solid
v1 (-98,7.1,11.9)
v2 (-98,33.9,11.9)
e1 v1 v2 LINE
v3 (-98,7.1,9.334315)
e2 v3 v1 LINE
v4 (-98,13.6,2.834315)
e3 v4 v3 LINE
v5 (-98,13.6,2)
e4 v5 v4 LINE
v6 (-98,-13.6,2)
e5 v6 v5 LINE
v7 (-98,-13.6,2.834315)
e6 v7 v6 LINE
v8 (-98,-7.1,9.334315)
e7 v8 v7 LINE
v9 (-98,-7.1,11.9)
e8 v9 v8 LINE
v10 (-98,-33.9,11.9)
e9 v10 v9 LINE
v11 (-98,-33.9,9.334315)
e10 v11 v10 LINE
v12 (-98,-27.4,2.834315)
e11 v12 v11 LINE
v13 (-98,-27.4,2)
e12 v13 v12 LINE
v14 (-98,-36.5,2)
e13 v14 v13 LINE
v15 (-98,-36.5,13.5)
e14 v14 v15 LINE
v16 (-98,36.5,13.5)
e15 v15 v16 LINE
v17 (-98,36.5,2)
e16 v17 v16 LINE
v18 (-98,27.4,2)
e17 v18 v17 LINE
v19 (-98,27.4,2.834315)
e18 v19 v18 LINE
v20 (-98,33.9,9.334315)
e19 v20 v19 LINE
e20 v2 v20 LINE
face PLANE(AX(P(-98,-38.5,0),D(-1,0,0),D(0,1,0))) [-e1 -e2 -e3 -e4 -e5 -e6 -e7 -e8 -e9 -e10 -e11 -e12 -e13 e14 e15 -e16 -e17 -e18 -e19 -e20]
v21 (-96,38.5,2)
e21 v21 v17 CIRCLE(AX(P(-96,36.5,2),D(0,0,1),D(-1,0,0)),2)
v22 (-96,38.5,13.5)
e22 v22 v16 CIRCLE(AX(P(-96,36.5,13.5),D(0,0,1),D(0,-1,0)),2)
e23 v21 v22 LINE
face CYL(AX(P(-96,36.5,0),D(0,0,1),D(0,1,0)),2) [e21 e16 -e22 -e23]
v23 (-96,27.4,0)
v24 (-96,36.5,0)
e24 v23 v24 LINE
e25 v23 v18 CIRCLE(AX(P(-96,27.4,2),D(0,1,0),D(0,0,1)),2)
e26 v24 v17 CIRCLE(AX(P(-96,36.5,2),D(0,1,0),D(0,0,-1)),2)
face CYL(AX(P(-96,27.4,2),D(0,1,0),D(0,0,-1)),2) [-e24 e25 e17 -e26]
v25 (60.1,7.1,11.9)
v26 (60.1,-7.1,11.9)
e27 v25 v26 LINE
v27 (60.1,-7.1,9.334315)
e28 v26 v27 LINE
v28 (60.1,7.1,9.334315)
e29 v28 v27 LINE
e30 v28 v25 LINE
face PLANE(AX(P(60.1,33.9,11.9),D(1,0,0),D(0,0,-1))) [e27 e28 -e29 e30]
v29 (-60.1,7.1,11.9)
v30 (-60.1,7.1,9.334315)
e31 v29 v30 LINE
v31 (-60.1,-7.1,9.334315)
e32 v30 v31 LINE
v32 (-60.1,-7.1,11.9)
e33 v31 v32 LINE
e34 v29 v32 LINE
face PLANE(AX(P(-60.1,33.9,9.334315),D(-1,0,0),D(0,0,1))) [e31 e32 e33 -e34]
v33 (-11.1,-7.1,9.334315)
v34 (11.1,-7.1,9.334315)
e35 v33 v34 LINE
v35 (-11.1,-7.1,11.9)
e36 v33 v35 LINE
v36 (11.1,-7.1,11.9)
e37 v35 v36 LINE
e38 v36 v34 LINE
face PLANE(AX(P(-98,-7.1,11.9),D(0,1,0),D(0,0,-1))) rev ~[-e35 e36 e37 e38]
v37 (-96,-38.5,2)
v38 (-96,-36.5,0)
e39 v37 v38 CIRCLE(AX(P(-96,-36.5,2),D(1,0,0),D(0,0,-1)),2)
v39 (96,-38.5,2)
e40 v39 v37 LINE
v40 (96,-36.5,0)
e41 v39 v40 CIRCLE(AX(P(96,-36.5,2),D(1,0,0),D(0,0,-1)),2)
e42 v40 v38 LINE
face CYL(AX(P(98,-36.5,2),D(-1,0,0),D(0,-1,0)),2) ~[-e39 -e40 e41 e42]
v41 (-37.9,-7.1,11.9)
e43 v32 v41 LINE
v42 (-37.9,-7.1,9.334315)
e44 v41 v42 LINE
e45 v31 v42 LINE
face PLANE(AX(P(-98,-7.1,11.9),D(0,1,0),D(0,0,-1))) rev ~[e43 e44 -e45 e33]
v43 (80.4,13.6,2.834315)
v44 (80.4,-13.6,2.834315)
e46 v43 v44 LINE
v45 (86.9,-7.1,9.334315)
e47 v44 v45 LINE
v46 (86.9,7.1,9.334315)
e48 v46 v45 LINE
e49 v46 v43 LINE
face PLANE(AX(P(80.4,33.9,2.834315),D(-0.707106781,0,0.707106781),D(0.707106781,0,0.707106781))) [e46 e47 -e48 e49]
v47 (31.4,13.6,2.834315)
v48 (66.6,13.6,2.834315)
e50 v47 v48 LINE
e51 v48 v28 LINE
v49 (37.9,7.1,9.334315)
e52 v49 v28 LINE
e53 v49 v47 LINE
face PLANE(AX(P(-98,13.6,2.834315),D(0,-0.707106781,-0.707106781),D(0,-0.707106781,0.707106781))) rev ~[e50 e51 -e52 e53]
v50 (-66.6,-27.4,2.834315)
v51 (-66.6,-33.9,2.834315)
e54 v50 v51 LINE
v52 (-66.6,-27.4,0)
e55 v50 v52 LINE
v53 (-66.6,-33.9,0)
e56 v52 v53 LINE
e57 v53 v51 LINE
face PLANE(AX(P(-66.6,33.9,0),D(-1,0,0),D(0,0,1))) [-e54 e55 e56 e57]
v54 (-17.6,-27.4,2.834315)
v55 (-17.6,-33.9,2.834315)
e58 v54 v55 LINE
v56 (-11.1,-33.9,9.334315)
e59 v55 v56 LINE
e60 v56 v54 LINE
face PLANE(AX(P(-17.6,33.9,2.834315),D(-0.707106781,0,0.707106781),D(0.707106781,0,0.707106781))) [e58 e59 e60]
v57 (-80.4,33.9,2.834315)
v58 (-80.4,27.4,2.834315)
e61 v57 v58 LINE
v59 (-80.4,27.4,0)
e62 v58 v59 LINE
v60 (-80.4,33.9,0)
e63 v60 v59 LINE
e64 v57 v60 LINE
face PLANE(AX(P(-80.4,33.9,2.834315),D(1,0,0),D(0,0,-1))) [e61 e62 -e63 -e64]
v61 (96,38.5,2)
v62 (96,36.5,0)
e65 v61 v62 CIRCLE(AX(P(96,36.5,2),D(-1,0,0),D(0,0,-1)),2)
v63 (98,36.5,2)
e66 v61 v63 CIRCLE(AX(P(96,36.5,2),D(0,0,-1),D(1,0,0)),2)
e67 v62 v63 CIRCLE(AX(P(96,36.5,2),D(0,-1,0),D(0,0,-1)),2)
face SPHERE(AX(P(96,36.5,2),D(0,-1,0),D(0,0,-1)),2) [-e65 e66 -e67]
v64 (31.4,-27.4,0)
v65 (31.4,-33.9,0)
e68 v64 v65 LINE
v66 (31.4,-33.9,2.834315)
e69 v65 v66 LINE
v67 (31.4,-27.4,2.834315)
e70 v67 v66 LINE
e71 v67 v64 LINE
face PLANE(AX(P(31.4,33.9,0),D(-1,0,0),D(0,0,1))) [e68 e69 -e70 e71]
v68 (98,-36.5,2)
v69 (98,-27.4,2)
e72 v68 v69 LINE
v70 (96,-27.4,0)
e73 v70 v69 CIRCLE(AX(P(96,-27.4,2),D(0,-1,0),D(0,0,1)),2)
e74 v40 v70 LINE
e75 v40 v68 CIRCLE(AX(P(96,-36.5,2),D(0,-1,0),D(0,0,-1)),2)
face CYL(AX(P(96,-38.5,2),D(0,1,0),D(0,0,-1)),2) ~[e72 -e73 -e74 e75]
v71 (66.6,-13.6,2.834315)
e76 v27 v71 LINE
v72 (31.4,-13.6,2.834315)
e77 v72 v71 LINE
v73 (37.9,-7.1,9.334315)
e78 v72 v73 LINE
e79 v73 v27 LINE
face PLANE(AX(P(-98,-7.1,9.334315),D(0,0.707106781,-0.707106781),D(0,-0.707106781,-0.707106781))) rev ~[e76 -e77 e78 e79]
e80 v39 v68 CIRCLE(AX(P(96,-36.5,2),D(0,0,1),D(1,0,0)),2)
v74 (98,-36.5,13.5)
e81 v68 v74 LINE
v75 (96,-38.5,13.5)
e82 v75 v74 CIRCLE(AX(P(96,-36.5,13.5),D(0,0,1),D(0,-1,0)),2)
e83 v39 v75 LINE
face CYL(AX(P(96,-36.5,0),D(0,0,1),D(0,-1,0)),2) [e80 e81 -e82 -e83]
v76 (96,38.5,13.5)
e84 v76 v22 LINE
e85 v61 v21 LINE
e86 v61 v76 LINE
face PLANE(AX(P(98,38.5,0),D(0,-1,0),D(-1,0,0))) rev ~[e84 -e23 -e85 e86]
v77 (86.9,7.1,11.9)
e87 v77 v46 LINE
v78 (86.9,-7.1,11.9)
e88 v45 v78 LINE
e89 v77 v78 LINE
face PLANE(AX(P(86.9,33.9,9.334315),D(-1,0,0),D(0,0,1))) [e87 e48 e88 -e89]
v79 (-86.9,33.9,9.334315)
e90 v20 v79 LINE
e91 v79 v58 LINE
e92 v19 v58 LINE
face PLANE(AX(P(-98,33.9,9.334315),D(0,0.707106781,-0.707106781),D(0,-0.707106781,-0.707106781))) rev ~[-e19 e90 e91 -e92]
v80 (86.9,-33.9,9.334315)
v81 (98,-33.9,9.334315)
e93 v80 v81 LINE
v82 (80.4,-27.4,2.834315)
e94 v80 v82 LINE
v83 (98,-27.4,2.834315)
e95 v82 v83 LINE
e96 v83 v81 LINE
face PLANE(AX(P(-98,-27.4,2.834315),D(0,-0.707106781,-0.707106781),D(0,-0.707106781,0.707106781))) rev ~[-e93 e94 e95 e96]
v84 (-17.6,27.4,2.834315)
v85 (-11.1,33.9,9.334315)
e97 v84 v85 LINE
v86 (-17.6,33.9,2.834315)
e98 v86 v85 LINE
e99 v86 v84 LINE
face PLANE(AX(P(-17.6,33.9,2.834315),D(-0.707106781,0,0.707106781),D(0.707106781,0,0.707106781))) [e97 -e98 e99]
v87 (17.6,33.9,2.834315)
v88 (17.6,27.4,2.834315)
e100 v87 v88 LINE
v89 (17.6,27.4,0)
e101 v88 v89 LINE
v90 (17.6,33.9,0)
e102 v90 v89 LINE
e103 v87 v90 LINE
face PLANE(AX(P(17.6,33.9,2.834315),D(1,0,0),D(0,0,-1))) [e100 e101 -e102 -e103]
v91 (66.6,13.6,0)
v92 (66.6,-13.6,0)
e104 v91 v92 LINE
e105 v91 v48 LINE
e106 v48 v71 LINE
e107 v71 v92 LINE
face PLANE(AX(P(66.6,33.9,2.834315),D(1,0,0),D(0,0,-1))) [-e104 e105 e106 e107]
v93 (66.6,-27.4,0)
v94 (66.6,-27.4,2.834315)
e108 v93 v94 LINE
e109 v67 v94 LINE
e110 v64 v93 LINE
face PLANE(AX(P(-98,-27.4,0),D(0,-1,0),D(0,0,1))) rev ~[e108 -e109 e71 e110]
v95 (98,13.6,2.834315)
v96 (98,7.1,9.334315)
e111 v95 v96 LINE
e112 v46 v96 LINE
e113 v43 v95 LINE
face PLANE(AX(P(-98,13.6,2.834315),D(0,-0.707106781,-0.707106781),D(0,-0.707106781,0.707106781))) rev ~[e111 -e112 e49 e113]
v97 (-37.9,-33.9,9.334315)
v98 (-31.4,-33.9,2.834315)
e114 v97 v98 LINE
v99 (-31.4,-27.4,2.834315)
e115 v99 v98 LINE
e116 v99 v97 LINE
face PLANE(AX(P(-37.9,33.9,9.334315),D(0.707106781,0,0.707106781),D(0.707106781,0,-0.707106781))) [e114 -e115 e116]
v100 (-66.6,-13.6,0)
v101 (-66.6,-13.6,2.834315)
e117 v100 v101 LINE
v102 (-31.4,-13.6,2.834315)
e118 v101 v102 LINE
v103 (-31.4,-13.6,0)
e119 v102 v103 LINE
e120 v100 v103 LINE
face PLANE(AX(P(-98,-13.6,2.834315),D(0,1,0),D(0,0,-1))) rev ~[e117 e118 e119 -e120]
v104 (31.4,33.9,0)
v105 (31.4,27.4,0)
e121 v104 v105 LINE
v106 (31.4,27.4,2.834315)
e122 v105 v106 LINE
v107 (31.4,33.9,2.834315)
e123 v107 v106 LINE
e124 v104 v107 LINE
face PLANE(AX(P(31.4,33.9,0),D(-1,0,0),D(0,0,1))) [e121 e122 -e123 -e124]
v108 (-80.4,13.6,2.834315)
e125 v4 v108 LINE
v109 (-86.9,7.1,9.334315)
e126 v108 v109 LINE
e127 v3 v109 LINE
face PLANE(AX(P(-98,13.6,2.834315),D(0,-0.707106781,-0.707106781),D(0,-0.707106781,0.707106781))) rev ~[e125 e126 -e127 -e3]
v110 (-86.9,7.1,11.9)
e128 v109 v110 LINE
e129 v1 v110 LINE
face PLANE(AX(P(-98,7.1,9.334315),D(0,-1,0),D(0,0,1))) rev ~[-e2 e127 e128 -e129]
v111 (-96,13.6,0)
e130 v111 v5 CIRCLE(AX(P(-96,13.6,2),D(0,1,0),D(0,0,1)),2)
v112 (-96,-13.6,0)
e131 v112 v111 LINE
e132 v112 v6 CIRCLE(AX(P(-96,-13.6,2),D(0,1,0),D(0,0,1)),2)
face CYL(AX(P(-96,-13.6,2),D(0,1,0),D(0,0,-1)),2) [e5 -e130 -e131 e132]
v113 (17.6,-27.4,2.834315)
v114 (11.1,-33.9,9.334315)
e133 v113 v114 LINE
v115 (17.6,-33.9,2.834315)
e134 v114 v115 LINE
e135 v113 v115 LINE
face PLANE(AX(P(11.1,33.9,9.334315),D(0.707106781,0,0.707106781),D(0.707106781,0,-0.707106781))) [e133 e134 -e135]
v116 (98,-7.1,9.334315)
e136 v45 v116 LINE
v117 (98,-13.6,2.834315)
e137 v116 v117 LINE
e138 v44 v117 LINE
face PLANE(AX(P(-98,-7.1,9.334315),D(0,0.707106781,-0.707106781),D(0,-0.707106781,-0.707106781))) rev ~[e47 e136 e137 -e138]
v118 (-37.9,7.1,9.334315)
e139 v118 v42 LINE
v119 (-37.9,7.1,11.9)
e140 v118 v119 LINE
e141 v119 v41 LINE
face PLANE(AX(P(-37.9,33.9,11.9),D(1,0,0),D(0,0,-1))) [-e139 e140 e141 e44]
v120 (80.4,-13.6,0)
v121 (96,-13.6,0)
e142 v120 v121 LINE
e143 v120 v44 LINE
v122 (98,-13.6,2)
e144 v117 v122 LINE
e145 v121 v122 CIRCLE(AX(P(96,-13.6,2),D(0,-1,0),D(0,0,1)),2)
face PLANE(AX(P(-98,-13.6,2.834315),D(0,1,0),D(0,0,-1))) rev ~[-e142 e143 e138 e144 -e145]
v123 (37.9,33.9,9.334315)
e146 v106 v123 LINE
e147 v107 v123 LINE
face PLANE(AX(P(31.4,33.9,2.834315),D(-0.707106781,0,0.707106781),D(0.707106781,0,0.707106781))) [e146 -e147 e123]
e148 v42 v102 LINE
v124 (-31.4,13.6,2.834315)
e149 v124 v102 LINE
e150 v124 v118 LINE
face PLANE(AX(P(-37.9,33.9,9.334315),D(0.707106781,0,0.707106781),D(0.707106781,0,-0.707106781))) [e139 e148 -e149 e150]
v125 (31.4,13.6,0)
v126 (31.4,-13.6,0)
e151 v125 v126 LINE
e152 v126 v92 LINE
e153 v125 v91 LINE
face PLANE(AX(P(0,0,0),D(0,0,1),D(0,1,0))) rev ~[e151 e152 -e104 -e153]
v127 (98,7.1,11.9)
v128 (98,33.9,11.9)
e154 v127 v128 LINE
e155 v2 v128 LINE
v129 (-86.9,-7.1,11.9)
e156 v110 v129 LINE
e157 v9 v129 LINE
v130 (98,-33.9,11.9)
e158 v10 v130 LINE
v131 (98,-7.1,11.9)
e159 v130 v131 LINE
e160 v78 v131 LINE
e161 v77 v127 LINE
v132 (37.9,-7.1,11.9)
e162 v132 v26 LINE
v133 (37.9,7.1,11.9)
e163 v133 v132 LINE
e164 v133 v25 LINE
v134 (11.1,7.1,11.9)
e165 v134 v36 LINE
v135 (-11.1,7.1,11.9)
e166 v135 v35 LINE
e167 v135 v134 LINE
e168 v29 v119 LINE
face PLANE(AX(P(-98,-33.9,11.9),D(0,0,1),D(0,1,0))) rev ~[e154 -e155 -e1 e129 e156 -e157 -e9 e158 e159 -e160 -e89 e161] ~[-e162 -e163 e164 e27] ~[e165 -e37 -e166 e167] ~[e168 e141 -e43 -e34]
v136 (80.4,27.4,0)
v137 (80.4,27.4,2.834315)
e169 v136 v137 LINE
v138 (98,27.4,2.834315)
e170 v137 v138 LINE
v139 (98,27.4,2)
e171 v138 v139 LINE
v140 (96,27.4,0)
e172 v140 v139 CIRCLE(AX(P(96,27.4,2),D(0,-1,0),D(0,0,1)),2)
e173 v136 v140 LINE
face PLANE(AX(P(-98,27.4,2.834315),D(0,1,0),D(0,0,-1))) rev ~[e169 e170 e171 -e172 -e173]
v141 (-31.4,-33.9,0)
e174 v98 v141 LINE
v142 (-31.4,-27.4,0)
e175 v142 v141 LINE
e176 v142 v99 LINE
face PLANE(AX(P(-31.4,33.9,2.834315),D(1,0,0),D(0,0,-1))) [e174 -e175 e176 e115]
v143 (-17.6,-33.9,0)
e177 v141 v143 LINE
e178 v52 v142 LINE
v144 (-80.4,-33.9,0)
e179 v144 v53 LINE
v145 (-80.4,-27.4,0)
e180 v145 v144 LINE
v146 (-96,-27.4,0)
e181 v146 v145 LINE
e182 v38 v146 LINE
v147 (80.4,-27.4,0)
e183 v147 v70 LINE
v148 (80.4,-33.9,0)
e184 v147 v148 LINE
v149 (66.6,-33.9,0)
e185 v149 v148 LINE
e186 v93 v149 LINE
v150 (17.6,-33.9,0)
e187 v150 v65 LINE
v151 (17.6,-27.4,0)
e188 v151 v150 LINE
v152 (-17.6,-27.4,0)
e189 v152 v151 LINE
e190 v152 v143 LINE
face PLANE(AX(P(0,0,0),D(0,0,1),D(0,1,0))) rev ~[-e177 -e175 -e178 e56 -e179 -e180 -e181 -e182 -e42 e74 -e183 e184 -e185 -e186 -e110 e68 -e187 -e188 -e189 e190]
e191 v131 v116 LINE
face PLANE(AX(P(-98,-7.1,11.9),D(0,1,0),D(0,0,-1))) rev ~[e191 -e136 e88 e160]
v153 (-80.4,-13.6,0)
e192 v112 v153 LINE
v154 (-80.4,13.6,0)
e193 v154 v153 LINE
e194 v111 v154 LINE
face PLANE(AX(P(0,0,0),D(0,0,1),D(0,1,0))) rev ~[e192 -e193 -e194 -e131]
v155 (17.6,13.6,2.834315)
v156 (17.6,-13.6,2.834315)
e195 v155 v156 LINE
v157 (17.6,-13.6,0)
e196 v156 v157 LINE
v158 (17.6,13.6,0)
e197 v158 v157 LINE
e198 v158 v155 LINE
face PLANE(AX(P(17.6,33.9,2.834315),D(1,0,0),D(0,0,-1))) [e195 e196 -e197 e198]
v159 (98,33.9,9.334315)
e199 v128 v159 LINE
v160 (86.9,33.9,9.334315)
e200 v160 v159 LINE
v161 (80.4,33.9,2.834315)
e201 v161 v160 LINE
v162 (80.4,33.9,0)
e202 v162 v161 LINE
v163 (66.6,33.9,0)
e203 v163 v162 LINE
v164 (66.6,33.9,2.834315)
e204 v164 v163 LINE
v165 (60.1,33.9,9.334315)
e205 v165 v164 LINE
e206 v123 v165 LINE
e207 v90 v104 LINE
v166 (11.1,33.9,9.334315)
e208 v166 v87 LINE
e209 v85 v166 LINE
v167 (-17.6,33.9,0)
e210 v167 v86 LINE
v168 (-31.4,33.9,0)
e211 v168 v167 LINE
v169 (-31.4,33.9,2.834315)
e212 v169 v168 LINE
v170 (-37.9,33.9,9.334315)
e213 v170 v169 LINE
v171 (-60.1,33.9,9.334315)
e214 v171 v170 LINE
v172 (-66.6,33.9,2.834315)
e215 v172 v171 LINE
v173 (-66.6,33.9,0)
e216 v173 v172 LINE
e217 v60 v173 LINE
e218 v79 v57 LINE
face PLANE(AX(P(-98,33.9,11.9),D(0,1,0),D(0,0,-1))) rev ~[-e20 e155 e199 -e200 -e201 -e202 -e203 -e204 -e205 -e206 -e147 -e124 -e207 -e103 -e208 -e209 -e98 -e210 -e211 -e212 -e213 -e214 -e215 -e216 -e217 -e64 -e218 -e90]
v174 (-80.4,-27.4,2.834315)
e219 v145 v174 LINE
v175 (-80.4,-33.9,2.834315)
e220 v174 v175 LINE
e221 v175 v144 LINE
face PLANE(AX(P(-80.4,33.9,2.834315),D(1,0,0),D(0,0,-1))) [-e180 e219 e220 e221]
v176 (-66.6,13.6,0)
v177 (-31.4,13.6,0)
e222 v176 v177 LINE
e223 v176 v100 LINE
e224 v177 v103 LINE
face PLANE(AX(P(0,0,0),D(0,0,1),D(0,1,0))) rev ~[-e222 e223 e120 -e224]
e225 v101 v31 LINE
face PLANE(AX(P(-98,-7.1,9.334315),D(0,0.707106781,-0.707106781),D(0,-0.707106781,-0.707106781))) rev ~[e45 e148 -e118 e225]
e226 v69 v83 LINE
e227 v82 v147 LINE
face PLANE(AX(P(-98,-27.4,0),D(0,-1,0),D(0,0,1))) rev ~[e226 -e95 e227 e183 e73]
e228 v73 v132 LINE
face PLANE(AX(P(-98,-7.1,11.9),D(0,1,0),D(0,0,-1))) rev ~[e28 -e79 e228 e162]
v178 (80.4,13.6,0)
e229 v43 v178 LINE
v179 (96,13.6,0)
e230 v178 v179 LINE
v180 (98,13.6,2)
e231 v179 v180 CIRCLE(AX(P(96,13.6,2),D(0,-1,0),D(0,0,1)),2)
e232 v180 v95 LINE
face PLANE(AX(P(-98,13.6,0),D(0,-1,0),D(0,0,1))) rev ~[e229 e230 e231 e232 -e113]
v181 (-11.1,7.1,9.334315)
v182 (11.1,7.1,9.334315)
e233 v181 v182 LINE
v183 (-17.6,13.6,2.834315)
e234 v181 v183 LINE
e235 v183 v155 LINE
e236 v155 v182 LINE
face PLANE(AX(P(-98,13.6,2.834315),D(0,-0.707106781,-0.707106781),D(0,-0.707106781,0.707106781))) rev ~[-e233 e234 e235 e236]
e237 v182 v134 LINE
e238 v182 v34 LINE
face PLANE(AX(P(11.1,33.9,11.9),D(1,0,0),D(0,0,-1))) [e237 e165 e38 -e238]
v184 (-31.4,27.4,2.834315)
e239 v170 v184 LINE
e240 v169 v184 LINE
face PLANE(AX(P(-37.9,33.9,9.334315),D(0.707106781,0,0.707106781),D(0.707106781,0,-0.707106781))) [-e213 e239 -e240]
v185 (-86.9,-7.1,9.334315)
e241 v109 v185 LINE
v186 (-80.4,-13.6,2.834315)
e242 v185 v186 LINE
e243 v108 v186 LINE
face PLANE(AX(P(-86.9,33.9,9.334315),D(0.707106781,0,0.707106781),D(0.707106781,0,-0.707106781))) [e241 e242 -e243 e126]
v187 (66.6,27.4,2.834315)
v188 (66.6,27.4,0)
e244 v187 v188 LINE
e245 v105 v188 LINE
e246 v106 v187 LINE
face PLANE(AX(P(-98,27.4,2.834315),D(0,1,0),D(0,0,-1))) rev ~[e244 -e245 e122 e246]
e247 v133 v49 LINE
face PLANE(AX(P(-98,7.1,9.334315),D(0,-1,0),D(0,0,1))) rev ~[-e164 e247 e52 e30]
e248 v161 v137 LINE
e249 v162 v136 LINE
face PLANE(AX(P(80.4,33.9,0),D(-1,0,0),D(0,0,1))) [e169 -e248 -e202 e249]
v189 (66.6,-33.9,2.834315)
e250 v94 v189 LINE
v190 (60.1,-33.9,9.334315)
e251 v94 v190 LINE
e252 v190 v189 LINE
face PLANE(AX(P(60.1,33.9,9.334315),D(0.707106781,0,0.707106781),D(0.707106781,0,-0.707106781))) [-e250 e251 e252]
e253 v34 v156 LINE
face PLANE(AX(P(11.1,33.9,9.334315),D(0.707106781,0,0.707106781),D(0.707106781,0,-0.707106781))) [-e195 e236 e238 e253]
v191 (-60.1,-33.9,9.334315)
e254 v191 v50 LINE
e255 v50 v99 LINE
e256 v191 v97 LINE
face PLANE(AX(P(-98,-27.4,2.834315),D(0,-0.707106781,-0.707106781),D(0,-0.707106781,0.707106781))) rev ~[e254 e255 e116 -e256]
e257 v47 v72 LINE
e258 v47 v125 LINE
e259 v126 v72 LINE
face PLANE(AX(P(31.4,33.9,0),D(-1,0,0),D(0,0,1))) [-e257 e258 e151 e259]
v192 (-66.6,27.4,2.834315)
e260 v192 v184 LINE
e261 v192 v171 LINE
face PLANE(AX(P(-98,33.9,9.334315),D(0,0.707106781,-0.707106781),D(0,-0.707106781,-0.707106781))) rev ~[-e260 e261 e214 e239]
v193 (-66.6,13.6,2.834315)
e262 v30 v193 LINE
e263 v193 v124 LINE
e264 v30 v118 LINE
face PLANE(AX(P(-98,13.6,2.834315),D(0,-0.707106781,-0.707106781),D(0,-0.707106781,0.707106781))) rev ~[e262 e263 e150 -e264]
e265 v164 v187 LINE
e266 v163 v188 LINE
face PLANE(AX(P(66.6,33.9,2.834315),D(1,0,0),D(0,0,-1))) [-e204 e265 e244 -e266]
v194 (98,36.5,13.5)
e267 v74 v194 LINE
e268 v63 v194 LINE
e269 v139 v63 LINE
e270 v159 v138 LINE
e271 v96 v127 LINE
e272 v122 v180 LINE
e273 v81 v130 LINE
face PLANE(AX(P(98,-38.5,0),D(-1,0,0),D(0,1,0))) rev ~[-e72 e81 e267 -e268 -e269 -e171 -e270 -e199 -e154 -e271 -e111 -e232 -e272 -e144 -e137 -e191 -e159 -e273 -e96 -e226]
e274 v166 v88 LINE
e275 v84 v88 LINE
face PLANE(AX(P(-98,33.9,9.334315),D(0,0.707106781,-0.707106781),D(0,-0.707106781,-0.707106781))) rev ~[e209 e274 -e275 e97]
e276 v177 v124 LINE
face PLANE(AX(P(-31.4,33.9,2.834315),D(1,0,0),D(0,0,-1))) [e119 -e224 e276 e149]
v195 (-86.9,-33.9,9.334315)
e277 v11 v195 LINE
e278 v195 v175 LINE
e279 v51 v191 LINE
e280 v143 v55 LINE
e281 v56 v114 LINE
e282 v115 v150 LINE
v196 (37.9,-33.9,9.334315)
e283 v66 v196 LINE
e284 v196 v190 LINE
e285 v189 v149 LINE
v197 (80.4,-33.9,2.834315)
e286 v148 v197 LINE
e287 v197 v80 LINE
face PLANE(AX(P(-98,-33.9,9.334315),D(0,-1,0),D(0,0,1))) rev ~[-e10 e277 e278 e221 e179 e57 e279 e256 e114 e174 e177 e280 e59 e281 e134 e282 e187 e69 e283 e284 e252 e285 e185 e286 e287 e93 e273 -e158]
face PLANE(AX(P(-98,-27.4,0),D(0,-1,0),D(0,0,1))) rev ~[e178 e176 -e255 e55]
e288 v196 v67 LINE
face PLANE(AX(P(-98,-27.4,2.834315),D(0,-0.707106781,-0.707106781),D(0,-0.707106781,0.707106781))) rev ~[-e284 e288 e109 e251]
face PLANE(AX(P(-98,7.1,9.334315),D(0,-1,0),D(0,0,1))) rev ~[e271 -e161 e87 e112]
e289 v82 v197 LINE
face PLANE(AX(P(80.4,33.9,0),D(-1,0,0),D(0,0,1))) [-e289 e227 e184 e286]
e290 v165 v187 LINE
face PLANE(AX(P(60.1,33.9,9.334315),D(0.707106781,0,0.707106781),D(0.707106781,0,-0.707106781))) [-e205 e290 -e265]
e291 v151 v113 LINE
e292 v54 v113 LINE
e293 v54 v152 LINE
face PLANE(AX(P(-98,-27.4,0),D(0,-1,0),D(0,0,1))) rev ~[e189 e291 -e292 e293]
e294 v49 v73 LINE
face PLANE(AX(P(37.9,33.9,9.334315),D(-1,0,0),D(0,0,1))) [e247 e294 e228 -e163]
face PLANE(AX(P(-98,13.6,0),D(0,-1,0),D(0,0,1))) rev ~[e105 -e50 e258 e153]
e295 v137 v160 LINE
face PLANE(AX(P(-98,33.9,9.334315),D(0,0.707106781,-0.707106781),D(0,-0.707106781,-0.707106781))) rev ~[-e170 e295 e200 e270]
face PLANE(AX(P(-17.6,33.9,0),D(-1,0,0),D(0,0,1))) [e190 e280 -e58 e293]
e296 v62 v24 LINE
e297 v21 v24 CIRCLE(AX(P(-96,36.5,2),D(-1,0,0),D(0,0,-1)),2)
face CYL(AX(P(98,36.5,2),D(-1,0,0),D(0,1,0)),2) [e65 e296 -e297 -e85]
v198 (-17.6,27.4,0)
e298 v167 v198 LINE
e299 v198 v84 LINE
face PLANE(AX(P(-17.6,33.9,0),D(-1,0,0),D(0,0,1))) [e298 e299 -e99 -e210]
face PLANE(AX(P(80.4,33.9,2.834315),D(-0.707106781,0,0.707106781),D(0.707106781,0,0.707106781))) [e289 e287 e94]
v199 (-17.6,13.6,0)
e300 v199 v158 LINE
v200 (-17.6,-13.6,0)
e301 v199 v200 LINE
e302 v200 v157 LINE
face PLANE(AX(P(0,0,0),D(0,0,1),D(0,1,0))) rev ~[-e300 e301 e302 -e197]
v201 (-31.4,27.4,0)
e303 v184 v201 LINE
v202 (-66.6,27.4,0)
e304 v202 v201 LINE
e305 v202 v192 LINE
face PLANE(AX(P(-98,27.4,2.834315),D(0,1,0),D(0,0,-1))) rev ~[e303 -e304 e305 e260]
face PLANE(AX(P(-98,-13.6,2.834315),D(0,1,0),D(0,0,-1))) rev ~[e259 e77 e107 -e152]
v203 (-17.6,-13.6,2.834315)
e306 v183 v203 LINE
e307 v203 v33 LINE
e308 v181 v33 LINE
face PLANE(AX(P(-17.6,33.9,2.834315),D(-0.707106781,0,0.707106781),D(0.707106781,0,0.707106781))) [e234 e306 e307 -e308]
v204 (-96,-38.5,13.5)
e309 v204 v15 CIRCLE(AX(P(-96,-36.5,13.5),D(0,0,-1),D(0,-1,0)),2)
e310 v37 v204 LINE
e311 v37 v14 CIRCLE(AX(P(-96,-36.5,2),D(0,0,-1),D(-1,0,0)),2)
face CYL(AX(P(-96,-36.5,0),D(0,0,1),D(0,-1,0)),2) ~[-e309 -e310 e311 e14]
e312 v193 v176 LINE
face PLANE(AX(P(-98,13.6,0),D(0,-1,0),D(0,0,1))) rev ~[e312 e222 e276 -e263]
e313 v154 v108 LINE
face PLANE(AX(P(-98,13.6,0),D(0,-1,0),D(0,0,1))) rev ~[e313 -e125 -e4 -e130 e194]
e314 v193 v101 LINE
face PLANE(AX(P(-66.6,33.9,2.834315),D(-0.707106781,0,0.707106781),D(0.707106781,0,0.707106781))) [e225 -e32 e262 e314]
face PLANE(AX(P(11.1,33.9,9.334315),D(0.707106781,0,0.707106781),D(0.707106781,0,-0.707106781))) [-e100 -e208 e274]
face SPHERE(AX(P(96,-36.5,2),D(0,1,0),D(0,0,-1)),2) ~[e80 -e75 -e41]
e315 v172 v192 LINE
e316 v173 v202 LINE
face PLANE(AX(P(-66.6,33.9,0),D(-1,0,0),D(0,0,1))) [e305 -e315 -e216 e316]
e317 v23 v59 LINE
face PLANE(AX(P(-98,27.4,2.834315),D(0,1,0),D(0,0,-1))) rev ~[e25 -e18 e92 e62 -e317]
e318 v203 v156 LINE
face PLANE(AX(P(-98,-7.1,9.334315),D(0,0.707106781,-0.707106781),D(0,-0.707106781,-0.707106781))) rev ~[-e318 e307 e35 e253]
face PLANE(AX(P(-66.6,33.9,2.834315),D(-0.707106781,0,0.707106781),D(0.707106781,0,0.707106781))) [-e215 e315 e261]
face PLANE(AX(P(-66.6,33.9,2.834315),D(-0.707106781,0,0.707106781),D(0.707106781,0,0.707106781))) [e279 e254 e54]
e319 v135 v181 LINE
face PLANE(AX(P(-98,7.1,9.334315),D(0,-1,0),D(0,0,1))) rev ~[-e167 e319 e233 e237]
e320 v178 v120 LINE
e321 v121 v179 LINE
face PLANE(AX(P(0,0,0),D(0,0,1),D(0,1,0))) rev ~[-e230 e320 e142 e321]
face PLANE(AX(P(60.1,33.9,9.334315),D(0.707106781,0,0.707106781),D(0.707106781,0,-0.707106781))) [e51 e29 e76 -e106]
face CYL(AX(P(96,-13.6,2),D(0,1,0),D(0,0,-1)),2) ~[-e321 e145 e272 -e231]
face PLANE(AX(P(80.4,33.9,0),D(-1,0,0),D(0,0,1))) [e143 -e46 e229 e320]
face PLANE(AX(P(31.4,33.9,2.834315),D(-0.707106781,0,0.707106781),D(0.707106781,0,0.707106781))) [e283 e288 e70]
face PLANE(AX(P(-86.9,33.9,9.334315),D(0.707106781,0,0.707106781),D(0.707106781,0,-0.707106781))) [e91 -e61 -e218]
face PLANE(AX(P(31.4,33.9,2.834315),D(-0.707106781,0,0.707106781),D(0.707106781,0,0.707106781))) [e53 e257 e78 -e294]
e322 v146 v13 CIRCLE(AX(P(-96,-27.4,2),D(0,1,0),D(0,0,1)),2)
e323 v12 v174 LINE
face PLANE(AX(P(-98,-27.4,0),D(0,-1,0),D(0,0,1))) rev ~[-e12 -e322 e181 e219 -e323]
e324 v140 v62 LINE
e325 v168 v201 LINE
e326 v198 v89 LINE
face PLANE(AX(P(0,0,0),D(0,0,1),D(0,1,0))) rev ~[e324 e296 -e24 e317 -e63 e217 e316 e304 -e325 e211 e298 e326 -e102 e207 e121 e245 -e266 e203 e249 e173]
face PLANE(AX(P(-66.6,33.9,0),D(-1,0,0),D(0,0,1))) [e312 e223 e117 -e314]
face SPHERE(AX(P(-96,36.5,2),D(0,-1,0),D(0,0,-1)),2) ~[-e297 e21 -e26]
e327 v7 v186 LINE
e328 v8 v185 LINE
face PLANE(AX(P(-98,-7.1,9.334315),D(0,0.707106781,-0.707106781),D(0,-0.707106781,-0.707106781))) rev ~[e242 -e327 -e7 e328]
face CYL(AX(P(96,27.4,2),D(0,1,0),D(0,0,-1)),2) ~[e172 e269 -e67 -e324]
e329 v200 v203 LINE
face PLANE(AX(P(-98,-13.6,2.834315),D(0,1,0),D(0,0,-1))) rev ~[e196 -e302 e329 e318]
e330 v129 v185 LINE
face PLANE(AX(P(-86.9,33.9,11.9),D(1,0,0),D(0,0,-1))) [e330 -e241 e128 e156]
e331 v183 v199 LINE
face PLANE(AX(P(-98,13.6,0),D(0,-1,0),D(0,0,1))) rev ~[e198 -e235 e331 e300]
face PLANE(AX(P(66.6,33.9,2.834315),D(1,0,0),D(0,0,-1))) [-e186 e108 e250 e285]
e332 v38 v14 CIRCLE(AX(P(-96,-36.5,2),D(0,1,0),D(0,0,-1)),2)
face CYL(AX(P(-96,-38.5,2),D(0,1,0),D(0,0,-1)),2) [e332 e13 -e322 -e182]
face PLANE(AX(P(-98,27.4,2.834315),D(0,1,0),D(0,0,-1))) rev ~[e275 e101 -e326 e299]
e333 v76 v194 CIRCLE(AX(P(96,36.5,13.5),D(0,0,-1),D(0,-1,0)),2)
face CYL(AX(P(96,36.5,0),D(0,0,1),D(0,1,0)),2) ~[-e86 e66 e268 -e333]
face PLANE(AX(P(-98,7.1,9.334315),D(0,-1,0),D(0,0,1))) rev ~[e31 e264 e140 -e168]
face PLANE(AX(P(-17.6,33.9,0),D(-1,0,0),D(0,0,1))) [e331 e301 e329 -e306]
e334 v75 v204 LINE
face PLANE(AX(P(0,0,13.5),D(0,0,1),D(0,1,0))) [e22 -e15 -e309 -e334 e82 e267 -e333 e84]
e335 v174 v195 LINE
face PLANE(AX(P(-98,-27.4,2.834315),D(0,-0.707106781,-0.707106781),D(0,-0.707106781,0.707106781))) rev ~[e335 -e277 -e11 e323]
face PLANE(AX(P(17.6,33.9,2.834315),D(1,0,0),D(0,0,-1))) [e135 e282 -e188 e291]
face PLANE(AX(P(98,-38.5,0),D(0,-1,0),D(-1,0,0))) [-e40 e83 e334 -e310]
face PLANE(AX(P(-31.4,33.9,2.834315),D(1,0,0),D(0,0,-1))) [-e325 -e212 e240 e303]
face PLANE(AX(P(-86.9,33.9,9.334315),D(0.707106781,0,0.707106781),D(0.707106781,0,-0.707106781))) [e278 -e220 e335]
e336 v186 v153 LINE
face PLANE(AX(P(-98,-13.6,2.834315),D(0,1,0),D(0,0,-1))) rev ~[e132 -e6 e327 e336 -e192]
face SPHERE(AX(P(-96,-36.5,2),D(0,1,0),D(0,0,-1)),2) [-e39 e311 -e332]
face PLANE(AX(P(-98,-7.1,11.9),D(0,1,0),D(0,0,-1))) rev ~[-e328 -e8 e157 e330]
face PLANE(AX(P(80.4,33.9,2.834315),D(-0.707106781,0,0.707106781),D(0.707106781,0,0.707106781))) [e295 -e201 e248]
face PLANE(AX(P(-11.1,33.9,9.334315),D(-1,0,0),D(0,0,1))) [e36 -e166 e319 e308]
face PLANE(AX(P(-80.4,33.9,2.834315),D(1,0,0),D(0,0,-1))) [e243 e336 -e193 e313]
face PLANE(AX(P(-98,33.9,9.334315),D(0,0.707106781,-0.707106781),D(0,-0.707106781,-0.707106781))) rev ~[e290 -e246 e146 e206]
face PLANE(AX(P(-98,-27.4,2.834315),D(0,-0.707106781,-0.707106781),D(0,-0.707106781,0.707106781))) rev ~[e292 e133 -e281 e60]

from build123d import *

# Parameters (mm, degrees)
SKETCH1_W           = 77
SKETCH1_H           = 196
BOSS_EXTRUDE1_DEPTH = 13.5
CUT_EXTRUDE1_DEPTH  = 201.201148848
CUT_EXTRUDE2_START  = -72.4
CUT_EXTRUDE2_DEPTH  = 67.8
FILLET1_R           = 2


with BuildPart() as part:
    # Sketch1 → Boss-Extrude1 (new body)
    with BuildSketch(Plane(origin=(0, 0, 0), x_dir=(0, 1, 0), z_dir=(0, 0, 1))):
        Rectangle(SKETCH1_W, SKETCH1_H)
    extrude(amount=BOSS_EXTRUDE1_DEPTH)

    # Sketch2 → Cut-Extrude1 (cut, through all)
    with BuildSketch(Plane(origin=(-98, 0, 0), x_dir=(0, -1, 0), z_dir=(-1, 0, 0))):
        Polygon((13.6, 2.834314575), (13.6, 0), (27.4, 0), (27.4, 2.834314575), (33.9, 9.334314575), (33.9, 11.9), (7.1, 11.9), (7.1, 9.334314575), align=None)
        Polygon((-27.4, 2.834314575), (-27.4, 0), (-13.6, 0), (-13.6, 2.834314575), (-7.1, 9.334314575), (-7.1, 11.9), (-33.9, 11.9), (-33.9, 9.334314575), align=None)
    extrude(amount=-CUT_EXTRUDE1_DEPTH, mode=Mode.SUBTRACT)

    # Sketch3 → Cut-Extrude2 (cut)
    with BuildSketch(Plane.XZ.offset(38.5).offset(CUT_EXTRUDE2_START)):
        Polygon((-80.4, 2.834314575), (-80.4, 0), (-66.6, 0), (-66.6, 2.834314575), (-60.1, 9.334314575), (-60.1, 11.9), (-86.9, 11.9), (-86.9, 9.334314575), align=None)
        Polygon((-31.4, 2.834314575), (-31.4, 0), (-17.6, 0), (-17.6, 2.834314575), (-11.1, 9.334314575), (-11.1, 11.9), (-37.9, 11.9), (-37.9, 9.334314575), align=None)
        Polygon((17.6, 2.834314575), (17.6, 0), (31.4, 0), (31.4, 2.834314575), (37.9, 9.334314575), (37.9, 11.9), (11.1, 11.9), (11.1, 9.334314575), align=None)
        Polygon((66.6, 0), (80.4, 0), (80.4, 2.834314575), (86.9, 9.334314575), (86.9, 11.9), (60.1, 11.9), (60.1, 9.334314575), (66.6, 2.834314575), align=None)
    extrude(amount=CUT_EXTRUDE2_DEPTH, mode=Mode.SUBTRACT)

    # Fillet1
    fillet1_edges = [part.edges().sort_by_distance(p)[0] for p in [
        (98, 0, 0),
        (98, 32.95, 0),
        (-98, 0, 0),
        (-98, -32.95, 0),
        (98, -32.95, 0),
        (0, -38.5, 0),
        (-98, 32.95, 0),
        (0, 38.5, 0),
        (98, 38.5, 6.75),
        (98, -38.5, 6.75),
        (-98, -38.5, 6.75),
        (-98, 38.5, 6.75),
    ]]
    fillet(fillet1_edges, radius=FILLET1_R)


solid = part.part
